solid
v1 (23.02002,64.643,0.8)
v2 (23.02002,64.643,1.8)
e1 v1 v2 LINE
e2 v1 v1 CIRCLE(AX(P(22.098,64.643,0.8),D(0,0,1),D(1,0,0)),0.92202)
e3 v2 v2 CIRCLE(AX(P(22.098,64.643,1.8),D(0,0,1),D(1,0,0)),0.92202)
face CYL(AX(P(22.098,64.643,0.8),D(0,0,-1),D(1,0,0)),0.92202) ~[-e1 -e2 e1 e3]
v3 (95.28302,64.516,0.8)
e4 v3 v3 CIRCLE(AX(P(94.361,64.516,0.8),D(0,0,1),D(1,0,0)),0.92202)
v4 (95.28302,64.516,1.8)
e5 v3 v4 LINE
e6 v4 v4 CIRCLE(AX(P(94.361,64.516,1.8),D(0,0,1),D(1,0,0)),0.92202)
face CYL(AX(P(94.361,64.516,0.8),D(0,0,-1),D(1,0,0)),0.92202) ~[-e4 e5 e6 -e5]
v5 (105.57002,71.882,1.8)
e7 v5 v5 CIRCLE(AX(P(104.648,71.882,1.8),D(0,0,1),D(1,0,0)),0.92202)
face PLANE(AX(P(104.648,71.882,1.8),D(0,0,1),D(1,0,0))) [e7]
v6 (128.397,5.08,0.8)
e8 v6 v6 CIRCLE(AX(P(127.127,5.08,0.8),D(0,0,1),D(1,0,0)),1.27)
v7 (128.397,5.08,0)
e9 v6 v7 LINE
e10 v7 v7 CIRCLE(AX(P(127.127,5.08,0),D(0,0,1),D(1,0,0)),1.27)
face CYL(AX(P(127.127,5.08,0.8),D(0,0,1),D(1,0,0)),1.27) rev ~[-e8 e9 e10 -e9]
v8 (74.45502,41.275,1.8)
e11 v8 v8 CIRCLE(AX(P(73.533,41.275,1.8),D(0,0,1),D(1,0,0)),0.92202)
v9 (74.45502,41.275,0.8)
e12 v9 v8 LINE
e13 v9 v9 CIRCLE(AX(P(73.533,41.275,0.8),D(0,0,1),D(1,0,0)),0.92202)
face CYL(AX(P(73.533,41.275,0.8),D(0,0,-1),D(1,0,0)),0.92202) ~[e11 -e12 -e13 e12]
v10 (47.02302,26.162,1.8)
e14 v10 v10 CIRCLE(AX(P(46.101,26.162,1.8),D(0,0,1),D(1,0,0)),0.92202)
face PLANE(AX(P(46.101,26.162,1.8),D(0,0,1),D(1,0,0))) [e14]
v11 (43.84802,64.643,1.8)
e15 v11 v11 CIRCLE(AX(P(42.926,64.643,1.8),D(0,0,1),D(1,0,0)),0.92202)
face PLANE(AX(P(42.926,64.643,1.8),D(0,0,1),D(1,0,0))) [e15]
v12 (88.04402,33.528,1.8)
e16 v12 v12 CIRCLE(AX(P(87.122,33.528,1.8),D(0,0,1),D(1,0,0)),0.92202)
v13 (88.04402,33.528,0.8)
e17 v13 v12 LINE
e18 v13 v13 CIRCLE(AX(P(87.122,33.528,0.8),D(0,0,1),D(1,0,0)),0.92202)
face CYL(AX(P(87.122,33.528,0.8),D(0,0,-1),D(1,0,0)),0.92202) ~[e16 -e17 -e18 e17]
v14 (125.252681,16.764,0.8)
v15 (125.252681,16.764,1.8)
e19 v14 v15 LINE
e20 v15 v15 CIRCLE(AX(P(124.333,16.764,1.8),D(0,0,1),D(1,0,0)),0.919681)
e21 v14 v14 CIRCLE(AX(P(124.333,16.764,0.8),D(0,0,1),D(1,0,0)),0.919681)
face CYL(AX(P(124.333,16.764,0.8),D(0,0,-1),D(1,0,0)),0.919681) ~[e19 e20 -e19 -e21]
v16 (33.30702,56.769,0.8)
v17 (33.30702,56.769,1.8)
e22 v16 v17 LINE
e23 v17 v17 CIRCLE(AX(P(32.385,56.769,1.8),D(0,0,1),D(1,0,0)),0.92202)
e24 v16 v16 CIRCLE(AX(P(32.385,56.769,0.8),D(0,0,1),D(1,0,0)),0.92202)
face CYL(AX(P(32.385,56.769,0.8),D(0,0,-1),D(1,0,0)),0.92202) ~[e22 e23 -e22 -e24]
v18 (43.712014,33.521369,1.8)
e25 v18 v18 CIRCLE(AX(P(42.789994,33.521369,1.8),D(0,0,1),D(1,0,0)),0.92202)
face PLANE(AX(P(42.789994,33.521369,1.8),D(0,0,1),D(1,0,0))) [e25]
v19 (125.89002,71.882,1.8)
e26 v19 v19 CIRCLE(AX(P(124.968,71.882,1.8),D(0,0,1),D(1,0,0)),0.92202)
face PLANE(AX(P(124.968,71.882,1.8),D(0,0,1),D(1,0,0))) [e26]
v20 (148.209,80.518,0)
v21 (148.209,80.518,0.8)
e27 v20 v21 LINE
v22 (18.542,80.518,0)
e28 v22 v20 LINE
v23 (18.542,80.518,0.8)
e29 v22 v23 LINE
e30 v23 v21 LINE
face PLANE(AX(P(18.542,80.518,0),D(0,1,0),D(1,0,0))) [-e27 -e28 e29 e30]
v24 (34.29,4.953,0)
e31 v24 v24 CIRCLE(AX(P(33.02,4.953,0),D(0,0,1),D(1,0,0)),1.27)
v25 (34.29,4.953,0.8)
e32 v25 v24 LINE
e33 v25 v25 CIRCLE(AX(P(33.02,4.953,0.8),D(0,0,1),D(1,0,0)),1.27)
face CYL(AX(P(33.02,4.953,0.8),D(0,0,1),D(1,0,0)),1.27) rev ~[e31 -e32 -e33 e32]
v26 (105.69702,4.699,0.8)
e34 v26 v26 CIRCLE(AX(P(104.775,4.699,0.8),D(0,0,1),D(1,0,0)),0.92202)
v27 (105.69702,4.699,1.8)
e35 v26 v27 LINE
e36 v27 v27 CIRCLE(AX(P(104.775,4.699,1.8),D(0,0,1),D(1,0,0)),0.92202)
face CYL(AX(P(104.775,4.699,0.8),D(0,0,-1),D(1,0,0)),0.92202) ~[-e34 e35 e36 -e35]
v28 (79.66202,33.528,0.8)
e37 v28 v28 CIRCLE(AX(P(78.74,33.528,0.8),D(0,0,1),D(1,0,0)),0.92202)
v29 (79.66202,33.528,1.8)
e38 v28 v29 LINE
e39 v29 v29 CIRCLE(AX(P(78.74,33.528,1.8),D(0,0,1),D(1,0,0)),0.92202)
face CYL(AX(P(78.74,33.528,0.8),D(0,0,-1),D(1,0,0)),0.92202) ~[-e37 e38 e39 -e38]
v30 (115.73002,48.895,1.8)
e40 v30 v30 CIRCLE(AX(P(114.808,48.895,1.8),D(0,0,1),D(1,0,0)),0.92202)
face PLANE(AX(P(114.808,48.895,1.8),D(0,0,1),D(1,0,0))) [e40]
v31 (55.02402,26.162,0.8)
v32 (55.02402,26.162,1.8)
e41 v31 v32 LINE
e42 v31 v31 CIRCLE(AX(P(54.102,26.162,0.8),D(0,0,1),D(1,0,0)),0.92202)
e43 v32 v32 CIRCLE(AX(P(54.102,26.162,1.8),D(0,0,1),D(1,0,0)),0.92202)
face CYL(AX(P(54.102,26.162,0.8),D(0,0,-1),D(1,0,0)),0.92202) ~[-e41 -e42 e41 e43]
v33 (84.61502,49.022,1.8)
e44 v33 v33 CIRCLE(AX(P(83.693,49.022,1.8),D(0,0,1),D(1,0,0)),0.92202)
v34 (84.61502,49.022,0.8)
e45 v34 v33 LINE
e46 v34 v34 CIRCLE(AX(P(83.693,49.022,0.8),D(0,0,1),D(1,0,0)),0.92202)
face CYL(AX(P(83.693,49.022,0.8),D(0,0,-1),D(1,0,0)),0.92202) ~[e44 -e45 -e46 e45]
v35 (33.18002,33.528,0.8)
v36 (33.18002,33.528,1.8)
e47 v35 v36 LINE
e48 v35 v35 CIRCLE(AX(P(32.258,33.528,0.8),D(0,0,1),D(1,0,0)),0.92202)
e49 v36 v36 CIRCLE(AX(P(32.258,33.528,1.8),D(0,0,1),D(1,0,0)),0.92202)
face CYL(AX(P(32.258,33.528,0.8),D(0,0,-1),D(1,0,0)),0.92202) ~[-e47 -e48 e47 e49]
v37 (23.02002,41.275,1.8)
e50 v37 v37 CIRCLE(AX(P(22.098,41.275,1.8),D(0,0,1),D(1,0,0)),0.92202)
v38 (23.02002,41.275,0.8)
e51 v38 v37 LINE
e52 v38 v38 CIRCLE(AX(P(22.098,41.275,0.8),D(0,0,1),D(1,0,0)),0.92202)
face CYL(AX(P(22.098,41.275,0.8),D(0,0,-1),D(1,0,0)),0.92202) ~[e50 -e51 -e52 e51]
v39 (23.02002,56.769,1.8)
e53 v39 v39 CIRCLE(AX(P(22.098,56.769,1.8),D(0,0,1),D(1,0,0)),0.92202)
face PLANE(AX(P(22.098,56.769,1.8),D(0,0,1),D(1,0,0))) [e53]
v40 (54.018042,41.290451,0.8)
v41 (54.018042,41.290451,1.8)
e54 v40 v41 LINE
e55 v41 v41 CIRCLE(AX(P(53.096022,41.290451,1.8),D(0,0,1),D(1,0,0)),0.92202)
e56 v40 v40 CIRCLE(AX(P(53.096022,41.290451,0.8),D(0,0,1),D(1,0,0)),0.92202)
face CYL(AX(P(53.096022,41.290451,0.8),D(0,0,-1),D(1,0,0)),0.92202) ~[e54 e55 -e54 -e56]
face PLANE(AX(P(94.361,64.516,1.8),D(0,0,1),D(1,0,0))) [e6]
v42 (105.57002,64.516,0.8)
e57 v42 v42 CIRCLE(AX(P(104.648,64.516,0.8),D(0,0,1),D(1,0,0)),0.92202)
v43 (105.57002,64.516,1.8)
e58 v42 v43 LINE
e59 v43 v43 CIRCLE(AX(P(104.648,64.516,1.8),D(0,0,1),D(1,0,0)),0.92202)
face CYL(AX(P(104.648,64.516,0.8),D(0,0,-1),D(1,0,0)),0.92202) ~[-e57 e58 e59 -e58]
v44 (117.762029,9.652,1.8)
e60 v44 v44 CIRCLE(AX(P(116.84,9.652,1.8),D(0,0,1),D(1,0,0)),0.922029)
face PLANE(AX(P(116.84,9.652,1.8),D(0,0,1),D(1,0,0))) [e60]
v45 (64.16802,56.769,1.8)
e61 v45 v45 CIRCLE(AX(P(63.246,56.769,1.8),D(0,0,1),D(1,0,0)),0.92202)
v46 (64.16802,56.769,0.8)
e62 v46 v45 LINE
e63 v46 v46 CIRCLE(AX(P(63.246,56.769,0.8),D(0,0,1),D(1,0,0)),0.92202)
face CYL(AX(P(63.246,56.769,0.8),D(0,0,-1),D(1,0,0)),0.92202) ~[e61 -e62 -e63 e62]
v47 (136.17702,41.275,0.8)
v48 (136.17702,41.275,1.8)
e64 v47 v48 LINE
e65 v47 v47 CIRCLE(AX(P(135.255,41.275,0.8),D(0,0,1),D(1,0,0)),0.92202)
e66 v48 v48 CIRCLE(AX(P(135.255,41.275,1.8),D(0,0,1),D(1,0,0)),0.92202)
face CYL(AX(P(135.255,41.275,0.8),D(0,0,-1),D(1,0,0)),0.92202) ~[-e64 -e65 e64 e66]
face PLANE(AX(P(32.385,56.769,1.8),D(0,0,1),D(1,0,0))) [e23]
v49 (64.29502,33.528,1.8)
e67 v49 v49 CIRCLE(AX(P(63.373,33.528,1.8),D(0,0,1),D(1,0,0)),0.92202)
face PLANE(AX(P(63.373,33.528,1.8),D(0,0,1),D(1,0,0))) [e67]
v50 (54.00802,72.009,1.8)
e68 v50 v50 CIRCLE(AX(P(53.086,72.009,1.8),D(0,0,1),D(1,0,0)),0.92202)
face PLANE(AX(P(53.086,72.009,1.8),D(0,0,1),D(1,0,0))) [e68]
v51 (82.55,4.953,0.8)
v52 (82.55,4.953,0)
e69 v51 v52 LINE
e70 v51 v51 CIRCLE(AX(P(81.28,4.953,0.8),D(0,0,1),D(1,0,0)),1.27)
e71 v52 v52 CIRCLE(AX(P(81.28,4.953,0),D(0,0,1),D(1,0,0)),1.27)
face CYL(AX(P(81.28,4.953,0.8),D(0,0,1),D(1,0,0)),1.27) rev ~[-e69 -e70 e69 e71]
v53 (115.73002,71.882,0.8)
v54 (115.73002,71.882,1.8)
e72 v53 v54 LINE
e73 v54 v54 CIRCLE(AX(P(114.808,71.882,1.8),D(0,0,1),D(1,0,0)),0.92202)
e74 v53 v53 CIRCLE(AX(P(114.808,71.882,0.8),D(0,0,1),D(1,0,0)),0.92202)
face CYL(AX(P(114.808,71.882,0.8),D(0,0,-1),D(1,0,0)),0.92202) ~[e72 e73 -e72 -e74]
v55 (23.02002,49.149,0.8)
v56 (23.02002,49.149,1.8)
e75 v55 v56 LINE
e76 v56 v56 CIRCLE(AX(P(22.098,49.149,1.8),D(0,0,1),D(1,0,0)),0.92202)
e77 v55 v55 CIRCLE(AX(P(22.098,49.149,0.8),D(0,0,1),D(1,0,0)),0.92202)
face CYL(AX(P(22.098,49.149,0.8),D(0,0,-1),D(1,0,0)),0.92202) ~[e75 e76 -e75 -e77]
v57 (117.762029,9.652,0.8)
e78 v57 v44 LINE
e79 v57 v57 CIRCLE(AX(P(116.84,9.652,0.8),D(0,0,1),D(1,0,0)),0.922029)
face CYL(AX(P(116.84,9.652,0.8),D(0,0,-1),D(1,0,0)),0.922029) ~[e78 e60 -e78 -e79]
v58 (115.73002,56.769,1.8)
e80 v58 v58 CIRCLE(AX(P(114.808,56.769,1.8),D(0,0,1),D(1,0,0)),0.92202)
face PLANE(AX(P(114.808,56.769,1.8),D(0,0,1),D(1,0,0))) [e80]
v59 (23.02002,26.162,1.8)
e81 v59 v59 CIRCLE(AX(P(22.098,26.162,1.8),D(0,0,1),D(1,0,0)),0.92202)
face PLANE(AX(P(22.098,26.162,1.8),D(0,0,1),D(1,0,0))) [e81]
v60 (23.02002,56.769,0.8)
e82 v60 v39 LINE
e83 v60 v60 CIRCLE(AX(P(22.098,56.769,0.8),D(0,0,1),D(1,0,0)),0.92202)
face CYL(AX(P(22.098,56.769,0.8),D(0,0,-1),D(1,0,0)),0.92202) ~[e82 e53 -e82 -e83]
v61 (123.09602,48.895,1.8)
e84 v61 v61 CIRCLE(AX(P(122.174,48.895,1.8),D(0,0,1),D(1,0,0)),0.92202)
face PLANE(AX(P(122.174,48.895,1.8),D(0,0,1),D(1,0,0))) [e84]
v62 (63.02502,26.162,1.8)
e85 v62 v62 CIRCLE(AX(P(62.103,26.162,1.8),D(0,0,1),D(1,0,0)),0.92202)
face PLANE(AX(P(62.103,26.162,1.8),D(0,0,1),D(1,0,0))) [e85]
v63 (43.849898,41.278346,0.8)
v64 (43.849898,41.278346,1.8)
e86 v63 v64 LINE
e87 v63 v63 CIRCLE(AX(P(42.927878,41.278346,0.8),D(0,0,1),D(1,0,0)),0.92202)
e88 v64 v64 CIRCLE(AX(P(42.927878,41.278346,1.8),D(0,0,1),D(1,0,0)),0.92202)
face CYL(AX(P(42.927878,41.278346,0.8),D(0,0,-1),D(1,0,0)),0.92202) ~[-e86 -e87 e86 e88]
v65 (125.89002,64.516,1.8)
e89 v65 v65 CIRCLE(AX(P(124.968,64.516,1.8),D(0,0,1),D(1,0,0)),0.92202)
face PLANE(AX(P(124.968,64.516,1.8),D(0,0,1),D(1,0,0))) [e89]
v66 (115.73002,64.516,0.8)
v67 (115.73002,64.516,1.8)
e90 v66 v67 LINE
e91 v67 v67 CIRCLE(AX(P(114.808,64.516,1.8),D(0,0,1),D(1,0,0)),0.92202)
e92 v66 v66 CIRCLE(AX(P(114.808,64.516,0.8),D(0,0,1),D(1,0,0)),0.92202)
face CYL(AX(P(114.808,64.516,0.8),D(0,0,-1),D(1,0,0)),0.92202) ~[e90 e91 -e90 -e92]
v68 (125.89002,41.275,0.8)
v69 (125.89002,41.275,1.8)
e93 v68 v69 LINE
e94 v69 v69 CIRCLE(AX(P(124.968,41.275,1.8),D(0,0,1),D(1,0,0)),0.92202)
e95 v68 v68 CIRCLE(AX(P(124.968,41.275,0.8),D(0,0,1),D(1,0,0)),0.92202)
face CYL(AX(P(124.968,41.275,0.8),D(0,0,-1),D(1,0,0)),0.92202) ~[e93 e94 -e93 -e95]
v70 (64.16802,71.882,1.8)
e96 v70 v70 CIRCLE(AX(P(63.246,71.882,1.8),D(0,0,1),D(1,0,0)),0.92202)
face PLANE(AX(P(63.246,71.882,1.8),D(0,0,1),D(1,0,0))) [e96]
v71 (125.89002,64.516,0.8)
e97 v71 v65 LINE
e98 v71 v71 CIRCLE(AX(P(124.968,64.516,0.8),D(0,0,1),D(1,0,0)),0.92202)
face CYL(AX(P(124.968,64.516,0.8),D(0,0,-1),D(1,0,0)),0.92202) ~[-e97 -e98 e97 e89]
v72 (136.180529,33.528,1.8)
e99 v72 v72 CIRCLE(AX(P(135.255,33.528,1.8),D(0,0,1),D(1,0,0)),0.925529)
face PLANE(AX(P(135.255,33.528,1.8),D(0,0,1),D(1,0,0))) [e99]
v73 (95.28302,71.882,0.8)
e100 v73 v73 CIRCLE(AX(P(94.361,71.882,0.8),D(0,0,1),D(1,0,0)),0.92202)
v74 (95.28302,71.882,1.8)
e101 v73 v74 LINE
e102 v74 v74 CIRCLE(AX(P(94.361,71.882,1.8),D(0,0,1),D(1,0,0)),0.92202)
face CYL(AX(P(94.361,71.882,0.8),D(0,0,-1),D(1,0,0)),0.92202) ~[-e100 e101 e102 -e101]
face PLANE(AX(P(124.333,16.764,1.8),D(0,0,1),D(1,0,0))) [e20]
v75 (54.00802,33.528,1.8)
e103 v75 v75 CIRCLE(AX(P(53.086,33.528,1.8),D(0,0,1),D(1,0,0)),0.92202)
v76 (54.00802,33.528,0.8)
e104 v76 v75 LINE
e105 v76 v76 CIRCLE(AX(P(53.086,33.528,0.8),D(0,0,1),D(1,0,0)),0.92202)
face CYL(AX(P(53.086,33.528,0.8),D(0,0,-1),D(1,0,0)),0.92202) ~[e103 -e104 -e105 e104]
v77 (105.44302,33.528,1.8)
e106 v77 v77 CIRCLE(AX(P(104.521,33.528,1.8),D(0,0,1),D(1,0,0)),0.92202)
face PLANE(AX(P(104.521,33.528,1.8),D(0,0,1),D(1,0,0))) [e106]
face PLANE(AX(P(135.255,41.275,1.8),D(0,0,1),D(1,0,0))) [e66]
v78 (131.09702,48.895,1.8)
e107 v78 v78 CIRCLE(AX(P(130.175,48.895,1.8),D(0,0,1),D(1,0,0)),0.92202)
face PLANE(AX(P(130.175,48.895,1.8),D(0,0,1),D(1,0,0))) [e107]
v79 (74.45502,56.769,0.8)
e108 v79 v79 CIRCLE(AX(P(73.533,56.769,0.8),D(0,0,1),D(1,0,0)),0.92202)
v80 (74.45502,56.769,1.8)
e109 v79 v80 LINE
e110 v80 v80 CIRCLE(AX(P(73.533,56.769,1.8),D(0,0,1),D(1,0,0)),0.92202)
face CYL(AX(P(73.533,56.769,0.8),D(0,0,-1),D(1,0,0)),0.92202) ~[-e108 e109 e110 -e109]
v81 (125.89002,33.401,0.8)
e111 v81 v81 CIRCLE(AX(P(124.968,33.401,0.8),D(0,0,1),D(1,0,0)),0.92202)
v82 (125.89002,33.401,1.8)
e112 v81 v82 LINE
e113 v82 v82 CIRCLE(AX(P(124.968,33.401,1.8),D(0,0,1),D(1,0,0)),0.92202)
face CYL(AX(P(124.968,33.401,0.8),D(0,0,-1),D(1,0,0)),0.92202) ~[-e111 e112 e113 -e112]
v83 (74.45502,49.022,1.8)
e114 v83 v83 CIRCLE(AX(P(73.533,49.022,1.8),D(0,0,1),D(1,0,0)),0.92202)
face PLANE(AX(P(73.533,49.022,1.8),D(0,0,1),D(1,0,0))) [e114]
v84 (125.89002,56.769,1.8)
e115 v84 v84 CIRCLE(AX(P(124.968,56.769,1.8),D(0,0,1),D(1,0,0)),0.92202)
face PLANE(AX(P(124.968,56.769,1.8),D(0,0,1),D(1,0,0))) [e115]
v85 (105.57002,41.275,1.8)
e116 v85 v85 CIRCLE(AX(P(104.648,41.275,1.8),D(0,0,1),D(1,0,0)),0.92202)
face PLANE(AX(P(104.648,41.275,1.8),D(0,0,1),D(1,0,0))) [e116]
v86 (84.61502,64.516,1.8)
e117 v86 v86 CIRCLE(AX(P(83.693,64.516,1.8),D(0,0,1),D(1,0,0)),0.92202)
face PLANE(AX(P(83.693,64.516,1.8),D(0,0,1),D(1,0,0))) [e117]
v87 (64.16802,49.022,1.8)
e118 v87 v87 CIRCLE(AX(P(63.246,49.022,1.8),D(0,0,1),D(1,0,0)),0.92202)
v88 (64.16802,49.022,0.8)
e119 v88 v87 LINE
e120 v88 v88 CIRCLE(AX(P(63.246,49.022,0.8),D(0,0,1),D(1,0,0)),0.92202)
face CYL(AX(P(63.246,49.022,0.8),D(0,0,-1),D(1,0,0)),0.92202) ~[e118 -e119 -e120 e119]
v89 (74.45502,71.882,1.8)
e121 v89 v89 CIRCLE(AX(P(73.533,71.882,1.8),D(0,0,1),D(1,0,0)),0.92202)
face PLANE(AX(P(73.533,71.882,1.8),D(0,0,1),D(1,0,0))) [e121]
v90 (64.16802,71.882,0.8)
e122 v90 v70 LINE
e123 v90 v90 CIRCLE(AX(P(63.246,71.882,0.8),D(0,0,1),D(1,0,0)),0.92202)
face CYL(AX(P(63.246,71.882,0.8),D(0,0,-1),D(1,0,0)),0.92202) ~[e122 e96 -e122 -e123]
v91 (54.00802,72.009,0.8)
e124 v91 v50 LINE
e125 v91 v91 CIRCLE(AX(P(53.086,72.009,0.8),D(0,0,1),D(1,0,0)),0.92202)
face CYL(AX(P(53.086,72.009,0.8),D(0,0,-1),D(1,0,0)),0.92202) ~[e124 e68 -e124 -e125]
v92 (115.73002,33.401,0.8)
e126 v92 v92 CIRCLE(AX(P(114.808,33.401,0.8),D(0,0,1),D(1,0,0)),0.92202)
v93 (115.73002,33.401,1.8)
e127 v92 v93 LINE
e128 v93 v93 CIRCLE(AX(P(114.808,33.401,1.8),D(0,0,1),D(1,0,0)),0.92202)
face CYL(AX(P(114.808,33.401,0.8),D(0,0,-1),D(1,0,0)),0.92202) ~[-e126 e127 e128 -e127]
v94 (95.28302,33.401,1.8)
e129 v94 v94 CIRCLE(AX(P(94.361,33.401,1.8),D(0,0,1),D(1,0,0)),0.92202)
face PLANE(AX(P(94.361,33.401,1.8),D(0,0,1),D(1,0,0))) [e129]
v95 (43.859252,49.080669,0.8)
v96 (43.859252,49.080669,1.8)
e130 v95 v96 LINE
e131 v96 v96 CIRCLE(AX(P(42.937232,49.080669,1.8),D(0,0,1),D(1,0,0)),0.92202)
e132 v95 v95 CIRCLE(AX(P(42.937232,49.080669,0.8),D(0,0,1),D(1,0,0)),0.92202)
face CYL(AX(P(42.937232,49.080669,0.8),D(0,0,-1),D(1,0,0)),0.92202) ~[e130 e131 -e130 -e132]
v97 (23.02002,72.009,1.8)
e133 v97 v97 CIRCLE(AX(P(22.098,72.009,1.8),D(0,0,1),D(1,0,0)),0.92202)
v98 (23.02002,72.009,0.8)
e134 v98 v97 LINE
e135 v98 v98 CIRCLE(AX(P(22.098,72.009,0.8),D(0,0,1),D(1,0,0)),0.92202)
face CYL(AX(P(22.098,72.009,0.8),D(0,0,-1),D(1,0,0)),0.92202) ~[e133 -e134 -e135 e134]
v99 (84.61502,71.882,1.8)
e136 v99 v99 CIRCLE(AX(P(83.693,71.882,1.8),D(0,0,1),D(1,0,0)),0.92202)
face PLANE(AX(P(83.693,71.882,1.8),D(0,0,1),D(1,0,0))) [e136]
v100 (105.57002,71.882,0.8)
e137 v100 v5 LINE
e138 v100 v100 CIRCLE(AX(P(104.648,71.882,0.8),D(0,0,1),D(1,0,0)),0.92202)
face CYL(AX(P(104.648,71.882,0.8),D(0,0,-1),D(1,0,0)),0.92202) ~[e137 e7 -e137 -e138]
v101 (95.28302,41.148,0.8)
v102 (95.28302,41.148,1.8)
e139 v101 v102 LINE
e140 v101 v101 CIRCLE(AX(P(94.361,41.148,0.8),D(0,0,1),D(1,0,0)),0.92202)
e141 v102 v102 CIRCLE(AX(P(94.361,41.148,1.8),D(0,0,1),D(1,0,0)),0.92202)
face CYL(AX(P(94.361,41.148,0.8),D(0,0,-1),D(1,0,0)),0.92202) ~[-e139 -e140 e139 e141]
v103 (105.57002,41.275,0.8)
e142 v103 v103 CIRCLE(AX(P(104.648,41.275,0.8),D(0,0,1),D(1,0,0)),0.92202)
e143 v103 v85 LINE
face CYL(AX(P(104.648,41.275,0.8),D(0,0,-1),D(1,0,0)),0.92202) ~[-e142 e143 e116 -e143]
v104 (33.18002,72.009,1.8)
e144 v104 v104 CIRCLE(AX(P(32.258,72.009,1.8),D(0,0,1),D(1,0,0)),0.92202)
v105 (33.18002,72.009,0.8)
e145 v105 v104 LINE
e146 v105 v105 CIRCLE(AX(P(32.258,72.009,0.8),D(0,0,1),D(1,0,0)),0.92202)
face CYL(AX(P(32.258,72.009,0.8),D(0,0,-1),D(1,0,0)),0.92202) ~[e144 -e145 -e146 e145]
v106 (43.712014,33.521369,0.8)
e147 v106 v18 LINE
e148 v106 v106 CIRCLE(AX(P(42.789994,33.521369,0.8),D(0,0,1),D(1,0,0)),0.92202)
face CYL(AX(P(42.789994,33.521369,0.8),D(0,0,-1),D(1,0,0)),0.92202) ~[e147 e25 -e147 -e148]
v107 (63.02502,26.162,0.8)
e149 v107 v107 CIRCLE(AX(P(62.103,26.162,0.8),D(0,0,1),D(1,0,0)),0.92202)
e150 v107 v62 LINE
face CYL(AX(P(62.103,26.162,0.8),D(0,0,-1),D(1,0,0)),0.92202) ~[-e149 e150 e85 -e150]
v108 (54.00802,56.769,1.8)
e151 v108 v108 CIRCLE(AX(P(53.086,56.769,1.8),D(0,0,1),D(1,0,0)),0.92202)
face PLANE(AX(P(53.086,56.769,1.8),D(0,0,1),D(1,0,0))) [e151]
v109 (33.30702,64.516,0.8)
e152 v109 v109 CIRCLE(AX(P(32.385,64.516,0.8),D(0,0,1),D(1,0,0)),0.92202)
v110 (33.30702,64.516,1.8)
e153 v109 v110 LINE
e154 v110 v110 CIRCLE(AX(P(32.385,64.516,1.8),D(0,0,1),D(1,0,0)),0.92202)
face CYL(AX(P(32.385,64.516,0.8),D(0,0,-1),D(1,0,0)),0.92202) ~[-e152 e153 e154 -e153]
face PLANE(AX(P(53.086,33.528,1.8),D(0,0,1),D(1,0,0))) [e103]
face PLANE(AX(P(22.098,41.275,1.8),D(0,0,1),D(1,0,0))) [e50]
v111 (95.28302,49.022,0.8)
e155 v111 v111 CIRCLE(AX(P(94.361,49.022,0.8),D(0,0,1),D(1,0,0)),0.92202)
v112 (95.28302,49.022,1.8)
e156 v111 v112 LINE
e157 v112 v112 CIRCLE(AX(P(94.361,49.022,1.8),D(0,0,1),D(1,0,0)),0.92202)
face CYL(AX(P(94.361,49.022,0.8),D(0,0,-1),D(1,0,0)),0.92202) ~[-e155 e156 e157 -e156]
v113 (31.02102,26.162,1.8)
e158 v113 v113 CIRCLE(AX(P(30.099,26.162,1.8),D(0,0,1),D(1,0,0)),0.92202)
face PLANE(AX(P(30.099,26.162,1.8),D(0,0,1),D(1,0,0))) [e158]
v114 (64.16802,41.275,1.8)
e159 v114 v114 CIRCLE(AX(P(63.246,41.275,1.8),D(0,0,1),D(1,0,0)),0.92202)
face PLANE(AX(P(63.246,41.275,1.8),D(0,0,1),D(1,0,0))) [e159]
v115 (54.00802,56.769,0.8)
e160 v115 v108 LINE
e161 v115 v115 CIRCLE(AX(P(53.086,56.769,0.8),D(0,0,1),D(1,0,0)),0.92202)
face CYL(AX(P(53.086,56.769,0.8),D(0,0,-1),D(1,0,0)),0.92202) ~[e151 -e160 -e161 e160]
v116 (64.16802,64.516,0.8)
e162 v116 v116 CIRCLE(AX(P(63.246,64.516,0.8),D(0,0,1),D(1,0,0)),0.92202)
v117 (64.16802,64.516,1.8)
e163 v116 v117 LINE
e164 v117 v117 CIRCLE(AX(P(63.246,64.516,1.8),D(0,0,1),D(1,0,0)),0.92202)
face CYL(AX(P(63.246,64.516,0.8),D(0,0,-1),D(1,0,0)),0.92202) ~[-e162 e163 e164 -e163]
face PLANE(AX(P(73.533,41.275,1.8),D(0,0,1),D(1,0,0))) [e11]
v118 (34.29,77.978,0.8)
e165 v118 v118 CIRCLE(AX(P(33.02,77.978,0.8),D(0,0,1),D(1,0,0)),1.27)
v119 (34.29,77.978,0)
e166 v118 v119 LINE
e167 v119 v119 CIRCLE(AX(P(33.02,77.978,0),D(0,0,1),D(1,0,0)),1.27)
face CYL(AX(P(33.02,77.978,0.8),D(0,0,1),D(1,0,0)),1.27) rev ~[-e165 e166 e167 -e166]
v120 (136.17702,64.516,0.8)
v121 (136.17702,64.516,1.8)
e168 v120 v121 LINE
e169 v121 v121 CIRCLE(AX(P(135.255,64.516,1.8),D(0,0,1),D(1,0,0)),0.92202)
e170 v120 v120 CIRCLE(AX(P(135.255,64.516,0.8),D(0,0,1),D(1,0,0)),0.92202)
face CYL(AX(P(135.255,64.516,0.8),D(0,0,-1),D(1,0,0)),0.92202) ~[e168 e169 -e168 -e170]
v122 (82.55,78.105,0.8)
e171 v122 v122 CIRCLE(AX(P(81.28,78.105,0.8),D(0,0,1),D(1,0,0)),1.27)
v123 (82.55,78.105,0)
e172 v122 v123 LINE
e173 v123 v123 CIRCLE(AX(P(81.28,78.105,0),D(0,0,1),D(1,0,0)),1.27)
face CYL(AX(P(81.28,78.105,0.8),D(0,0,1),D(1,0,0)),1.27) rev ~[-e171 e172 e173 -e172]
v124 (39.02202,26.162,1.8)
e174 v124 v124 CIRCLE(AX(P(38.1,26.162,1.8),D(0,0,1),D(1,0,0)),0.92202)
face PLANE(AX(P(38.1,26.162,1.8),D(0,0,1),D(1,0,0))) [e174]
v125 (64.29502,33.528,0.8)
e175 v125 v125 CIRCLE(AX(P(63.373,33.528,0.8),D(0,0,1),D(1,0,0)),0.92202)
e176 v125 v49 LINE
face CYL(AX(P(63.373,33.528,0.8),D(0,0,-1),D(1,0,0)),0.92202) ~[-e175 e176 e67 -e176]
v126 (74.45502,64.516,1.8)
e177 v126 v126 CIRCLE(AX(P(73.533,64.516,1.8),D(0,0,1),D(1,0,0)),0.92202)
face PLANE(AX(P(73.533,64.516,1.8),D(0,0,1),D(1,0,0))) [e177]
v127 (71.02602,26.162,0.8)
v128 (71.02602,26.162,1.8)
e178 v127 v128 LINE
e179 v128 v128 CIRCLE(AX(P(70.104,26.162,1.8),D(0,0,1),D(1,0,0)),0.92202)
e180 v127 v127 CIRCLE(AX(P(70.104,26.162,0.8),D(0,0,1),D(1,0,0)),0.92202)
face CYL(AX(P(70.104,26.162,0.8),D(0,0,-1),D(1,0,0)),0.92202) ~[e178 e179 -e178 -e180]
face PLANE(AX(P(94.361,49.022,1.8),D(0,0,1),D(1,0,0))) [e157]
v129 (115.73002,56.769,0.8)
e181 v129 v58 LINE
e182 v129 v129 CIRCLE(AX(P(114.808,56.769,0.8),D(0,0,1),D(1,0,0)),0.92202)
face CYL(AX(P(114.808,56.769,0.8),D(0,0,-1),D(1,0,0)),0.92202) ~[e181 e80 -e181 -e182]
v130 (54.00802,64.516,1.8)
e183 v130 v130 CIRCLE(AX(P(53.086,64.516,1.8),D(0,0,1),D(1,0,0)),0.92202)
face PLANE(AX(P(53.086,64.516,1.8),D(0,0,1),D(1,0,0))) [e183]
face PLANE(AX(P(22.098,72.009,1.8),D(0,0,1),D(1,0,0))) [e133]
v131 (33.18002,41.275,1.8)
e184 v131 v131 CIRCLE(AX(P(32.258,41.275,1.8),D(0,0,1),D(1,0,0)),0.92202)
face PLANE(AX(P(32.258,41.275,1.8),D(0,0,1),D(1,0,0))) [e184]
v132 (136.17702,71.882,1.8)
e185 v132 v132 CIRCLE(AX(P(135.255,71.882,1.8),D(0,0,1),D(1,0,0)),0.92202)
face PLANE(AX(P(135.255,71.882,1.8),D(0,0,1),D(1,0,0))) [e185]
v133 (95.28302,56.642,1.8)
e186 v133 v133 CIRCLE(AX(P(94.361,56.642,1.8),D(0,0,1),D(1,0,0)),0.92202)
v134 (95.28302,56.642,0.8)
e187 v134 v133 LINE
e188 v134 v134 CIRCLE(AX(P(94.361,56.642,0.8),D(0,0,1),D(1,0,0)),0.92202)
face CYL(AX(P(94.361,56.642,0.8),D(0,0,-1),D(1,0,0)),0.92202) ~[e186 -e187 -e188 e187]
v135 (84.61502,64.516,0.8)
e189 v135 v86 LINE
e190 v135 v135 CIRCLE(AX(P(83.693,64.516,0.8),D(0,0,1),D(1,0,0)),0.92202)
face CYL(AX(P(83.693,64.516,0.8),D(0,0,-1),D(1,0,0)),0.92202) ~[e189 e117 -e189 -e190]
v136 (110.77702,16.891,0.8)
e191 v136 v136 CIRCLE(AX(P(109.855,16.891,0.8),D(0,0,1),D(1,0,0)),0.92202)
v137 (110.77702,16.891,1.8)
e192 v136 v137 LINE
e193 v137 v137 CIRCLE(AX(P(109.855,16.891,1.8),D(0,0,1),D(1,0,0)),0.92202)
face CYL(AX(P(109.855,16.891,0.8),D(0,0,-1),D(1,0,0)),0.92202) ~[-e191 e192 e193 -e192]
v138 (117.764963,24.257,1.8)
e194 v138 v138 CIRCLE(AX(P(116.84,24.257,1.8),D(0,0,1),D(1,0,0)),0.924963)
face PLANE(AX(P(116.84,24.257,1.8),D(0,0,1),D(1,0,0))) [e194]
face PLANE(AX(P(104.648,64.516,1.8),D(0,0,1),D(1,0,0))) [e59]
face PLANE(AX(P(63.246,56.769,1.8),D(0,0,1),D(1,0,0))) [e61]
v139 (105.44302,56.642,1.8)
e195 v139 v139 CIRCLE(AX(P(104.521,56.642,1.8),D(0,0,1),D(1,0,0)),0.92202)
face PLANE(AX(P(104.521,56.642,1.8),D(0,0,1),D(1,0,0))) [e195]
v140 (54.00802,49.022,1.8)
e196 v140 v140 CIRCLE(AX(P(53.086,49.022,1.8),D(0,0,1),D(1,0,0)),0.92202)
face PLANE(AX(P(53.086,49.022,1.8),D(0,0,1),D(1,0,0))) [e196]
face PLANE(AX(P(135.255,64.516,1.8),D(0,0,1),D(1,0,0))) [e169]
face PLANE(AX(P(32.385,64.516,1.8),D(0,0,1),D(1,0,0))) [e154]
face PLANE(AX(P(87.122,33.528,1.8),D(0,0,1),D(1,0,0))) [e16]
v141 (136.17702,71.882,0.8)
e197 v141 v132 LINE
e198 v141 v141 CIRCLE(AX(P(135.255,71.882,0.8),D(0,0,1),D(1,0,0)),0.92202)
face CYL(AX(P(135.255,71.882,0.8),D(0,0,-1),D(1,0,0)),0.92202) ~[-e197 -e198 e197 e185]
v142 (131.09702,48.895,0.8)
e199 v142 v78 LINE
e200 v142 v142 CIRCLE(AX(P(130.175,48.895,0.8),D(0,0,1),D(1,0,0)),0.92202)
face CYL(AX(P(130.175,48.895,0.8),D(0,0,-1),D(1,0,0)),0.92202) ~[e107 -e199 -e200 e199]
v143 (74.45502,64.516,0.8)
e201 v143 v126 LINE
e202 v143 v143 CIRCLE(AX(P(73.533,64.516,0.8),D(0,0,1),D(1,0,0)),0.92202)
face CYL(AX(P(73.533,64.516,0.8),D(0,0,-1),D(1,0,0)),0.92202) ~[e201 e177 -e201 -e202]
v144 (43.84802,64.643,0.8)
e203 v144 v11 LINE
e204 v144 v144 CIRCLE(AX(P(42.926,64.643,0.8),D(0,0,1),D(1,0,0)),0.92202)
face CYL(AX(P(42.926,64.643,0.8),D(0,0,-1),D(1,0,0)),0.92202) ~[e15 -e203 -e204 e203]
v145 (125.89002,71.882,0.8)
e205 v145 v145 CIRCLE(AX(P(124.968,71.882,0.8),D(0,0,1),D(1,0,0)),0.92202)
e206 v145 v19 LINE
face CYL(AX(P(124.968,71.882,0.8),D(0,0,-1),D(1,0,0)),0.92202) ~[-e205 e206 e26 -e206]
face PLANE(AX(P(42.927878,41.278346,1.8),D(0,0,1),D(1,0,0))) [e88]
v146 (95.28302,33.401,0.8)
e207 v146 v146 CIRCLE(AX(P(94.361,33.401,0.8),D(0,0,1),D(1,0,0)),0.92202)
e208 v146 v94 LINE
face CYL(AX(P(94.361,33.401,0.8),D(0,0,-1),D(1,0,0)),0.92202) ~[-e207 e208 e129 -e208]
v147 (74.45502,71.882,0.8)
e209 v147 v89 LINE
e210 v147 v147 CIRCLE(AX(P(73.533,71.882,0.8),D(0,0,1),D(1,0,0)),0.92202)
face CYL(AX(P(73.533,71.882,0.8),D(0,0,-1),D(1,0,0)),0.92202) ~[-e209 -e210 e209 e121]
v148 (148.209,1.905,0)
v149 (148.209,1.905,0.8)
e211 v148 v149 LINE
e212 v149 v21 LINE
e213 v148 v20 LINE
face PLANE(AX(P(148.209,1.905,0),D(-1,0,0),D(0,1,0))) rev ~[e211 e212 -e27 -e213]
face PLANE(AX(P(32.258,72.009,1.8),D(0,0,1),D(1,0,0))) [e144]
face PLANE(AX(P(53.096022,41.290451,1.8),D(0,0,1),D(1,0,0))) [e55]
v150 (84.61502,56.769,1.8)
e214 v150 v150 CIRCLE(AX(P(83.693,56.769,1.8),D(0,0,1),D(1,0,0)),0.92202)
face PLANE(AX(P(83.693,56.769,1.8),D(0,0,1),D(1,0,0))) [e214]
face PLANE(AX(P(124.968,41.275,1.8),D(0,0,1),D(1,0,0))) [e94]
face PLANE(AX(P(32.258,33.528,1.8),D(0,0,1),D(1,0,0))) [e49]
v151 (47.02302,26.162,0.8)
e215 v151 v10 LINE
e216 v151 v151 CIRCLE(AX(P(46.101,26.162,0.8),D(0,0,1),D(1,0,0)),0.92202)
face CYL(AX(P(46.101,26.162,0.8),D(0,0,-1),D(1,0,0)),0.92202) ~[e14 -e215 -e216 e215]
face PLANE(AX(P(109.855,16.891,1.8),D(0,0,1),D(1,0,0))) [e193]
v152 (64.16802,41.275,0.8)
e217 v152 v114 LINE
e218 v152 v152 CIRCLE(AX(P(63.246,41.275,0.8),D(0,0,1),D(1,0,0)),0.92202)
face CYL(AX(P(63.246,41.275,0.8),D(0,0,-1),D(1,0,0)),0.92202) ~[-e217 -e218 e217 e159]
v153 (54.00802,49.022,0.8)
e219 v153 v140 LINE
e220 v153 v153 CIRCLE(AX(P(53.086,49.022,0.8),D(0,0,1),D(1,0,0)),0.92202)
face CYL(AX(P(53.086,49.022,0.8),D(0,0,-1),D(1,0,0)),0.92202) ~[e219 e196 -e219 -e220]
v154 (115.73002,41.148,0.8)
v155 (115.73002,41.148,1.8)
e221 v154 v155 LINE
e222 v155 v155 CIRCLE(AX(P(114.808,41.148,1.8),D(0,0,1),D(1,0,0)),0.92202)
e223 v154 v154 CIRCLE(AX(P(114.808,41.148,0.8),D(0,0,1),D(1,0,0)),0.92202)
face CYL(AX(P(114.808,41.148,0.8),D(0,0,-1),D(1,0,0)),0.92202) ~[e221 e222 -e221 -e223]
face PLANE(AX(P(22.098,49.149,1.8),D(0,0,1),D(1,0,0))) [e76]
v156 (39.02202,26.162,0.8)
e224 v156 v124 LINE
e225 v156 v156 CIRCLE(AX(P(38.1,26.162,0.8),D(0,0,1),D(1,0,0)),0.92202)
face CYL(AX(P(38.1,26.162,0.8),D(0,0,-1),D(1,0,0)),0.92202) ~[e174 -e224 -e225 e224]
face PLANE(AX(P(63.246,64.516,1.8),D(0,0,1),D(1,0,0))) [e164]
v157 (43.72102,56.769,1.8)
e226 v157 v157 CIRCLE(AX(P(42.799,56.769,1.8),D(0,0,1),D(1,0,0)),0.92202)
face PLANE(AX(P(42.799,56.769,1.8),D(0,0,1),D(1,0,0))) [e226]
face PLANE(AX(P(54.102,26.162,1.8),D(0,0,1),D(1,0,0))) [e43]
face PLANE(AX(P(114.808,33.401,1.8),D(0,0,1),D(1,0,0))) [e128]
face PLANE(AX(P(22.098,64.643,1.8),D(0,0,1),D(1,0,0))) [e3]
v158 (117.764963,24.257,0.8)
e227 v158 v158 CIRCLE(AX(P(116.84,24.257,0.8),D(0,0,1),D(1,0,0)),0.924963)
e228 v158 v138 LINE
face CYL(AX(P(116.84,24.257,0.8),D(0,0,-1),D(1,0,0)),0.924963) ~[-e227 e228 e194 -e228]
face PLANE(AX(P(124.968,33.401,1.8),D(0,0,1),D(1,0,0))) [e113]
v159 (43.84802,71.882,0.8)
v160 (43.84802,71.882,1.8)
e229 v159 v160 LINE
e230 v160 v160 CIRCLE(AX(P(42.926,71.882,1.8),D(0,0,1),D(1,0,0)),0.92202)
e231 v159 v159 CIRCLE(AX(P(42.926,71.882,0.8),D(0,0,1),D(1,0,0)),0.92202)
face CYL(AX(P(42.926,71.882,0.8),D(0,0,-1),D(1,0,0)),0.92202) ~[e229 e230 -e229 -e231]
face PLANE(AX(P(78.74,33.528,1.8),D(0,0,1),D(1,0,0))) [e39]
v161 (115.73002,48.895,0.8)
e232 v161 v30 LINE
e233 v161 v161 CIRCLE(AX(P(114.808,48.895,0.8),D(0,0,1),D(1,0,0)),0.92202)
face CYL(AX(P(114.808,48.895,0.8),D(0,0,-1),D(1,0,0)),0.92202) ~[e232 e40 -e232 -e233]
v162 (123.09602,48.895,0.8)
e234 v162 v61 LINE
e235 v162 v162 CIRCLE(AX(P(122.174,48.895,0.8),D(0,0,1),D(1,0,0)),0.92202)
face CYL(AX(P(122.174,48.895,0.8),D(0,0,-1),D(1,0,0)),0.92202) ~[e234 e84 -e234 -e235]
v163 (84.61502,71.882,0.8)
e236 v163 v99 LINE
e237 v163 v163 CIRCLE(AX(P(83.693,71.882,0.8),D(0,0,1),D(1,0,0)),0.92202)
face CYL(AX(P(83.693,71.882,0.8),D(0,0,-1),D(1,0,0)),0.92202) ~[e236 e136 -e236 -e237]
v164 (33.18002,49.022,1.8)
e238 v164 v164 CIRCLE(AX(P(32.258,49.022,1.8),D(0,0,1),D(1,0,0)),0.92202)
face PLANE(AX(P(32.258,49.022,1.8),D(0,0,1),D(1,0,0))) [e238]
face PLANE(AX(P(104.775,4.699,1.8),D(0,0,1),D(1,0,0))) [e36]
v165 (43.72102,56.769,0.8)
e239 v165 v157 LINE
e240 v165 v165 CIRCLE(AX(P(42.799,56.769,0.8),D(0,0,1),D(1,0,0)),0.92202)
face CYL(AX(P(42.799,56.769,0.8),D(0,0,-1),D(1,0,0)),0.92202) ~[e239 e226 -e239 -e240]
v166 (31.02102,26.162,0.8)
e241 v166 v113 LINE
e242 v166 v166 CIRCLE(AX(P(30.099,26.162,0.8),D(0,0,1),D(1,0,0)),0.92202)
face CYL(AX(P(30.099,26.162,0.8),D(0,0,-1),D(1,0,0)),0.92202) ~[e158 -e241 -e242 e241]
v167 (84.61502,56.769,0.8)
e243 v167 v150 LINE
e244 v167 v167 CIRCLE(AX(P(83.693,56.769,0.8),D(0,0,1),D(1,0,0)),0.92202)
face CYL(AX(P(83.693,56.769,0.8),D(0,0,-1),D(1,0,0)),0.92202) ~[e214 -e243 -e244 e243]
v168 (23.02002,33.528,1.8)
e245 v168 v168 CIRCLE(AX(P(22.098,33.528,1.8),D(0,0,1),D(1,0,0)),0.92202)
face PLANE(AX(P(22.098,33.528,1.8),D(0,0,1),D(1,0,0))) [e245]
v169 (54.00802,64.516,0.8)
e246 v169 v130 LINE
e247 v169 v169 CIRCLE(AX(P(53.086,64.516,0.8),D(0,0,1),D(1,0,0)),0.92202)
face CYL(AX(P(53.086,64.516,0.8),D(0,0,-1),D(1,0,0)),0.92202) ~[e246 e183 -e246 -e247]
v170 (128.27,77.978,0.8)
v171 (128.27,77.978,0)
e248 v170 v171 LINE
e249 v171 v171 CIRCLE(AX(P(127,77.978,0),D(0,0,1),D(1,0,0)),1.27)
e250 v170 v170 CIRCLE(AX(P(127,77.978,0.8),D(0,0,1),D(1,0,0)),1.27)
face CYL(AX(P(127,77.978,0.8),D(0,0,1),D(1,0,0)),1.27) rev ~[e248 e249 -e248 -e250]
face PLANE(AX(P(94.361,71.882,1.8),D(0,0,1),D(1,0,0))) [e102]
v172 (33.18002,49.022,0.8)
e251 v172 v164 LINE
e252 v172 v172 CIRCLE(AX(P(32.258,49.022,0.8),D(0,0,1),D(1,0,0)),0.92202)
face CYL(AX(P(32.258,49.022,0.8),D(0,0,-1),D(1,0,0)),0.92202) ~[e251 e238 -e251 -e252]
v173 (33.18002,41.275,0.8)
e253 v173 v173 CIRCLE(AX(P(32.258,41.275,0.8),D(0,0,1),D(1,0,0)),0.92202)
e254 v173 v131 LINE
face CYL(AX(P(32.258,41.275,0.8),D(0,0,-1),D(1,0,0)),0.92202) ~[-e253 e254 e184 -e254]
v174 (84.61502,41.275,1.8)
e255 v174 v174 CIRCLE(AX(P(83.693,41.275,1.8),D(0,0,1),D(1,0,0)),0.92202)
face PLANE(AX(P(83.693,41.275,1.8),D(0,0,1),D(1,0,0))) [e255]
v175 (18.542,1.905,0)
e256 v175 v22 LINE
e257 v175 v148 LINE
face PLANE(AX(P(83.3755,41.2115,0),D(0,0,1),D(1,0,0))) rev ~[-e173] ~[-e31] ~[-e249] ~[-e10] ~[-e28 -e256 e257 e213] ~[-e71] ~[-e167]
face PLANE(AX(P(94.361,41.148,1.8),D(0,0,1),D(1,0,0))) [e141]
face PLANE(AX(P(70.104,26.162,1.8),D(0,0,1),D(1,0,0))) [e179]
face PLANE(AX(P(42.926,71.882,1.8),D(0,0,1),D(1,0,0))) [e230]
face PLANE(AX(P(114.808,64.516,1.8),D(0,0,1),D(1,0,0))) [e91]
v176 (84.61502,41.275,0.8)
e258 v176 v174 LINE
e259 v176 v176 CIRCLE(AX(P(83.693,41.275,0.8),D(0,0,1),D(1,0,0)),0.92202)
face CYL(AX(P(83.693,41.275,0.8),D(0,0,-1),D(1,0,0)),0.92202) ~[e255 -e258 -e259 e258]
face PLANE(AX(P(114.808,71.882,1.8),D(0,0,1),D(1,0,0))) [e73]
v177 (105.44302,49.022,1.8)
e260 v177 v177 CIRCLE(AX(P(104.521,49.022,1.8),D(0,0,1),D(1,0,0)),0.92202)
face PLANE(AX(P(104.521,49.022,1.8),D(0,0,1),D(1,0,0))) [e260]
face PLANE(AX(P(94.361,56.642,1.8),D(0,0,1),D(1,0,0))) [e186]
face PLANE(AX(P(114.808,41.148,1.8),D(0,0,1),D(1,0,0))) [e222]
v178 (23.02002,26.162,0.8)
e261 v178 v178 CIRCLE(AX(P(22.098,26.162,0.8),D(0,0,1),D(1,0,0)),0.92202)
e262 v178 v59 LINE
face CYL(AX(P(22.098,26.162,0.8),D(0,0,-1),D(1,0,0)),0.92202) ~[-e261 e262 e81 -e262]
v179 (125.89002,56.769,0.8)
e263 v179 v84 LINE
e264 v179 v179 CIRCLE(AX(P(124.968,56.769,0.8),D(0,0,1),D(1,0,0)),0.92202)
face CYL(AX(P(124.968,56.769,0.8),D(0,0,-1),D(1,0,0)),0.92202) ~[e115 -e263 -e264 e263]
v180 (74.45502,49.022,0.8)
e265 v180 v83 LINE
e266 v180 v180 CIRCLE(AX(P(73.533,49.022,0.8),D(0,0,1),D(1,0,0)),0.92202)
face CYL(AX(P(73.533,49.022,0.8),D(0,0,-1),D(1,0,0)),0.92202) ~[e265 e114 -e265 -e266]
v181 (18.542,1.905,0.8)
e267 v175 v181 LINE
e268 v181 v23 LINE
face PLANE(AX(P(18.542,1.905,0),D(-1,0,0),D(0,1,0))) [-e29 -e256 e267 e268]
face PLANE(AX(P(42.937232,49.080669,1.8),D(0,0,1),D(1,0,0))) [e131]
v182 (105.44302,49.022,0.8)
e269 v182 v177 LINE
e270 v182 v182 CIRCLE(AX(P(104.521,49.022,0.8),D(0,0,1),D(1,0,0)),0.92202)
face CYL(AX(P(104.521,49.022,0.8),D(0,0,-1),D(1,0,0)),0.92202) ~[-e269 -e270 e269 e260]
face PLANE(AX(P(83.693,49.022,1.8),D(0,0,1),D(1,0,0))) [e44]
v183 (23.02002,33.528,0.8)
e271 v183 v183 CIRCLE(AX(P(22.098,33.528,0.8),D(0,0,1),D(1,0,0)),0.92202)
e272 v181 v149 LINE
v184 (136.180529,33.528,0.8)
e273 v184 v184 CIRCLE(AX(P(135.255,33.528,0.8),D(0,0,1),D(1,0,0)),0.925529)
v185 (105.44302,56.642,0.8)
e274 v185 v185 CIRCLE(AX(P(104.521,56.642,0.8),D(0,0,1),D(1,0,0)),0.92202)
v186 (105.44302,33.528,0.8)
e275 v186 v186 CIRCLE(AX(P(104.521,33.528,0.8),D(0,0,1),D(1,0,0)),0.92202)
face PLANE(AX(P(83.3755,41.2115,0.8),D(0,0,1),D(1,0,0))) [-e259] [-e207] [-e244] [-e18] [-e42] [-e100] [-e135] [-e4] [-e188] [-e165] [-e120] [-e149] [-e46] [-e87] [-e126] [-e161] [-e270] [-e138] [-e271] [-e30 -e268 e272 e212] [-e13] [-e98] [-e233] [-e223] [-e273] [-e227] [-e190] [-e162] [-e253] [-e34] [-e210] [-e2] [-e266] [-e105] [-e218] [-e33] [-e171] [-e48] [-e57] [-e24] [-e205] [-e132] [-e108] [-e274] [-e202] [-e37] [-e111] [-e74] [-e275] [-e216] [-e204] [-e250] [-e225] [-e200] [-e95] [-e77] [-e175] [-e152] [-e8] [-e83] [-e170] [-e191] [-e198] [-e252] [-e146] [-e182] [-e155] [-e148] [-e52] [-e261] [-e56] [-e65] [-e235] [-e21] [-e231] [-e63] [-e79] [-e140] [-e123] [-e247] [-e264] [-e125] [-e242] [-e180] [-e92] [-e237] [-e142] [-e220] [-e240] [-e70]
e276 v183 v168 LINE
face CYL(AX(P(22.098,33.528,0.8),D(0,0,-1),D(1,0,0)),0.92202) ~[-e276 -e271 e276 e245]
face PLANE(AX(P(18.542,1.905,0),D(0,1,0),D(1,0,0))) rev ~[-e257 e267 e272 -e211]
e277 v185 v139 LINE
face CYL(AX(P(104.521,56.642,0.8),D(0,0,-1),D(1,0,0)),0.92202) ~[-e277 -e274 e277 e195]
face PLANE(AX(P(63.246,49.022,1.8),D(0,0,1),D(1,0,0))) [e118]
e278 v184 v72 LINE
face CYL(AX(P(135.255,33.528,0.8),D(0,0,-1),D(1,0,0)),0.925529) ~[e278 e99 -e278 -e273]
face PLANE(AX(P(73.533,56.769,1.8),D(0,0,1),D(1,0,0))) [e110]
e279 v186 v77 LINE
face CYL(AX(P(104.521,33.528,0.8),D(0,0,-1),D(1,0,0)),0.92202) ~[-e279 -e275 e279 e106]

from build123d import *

# Parameters (mm, degrees)
SKETCH_2_W          = 129.667
SKETCH_2_H          = 78.613
EXTRUDE_1_DEPTH     = 0.8
SKETCH_3_R          = 1.27
CUT_EXTRUDE_1_DEPTH = 12.54
SKETCH_4_R          = 0.92202
SKETCH_4_R_2        = 0.922029104
SKETCH_4_R_3        = 0.919681264
SKETCH_4_R_4        = 0.924963229
SKETCH_4_R_5        = 0.92552898
EXTRUDE_2_DEPTH     = 1


with BuildPart() as part:
    # 草图2 → 凸台-拉伸1 (new body)
    with BuildSketch(Plane.XY):
        with Locations((83.3755, 41.2115)):
            Rectangle(SKETCH_2_W, SKETCH_2_H)
    extrude(amount=EXTRUDE_1_DEPTH)

    # 草图3 → 切除-拉伸1 (cut)
    with BuildSketch(Plane.XY.offset(0.8)):
        with Locations((33.02, 77.978)):
            Circle(SKETCH_3_R)
        with Locations((81.28, 78.105)):
            Circle(SKETCH_3_R)
        with Locations((127, 77.978)):
            Circle(SKETCH_3_R)
        with Locations((33.02, 4.953)):
            Circle(SKETCH_3_R)
        with Locations((81.28, 4.953)):
            Circle(SKETCH_3_R)
        with Locations((127.127, 5.08)):
            Circle(SKETCH_3_R)
    extrude(amount=-CUT_EXTRUDE_1_DEPTH, mode=Mode.SUBTRACT)

    # 草图4 → 凸台-拉伸2 (add)
    with BuildSketch(Plane.XY.offset(0.8)):
        with Locations((22.098, 72.009)):
            Circle(SKETCH_4_R)
        with Locations((22.098, 64.643)):
            Circle(SKETCH_4_R)
        with Locations((22.098, 56.769)):
            Circle(SKETCH_4_R)
        with Locations((22.098, 49.149)):
            Circle(SKETCH_4_R)
        with Locations((22.098, 26.162)):
            Circle(SKETCH_4_R)
        with Locations((22.098, 33.528)):
            Circle(SKETCH_4_R)
        with Locations((22.098, 41.275)):
            Circle(SKETCH_4_R)
        with Locations((32.258, 72.009)):
            Circle(SKETCH_4_R)
        with Locations((42.926, 71.882)):
            Circle(SKETCH_4_R)
        with Locations((53.086, 72.009)):
            Circle(SKETCH_4_R)
        with Locations((63.246, 71.882)):
            Circle(SKETCH_4_R)
        with Locations((73.533, 71.882)):
            Circle(SKETCH_4_R)
        with Locations((83.693, 71.882)):
            Circle(SKETCH_4_R)
        with Locations((94.361, 71.882)):
            Circle(SKETCH_4_R)
        with Locations((104.648, 71.882)):
            Circle(SKETCH_4_R)
        with Locations((114.808, 71.882)):
            Circle(SKETCH_4_R)
        with Locations((124.968, 71.882)):
            Circle(SKETCH_4_R)
        with Locations((135.255, 71.882)):
            Circle(SKETCH_4_R)
        with Locations((32.385, 64.516)):
            Circle(SKETCH_4_R)
        with Locations((32.385, 56.769)):
            Circle(SKETCH_4_R)
        with Locations((32.258, 49.022)):
            Circle(SKETCH_4_R)
        with Locations((32.258, 33.528)):
            Circle(SKETCH_4_R)
        with Locations((32.258, 41.275)):
            Circle(SKETCH_4_R)
        with Locations((54.102, 26.162)):
            Circle(SKETCH_4_R)
        with Locations((30.099, 26.162)):
            Circle(SKETCH_4_R)
        with Locations((38.1, 26.162)):
            Circle(SKETCH_4_R)
        with Locations((46.101, 26.162)):
            Circle(SKETCH_4_R)
        with Locations((42.926, 64.643)):
            Circle(SKETCH_4_R)
        with Locations((42.799, 56.769)):
            Circle(SKETCH_4_R)
        with Locations((53.086, 64.516)):
            Circle(SKETCH_4_R)
        with Locations((63.246, 64.516)):
            Circle(SKETCH_4_R)
        with Locations((53.086, 56.769)):
            Circle(SKETCH_4_R)
        with Locations((63.246, 56.769)):
            Circle(SKETCH_4_R)
        with Locations((42.937232377, 49.080669284)):
            Circle(SKETCH_4_R)
        with Locations((53.086, 49.022)):
            Circle(SKETCH_4_R)
        with Locations((63.246, 49.022)):
            Circle(SKETCH_4_R)
        with Locations((42.927878215, 41.278345649)):
            Circle(SKETCH_4_R)
        with Locations((42.78999374, 33.521368778)):
            Circle(SKETCH_4_R)
        with Locations((53.086, 33.528)):
            Circle(SKETCH_4_R)
        with Locations((53.096022403, 41.290450758)):
            Circle(SKETCH_4_R)
        with Locations((104.775, 4.699)):
            Circle(SKETCH_4_R)
        with Locations((116.84, 9.652)):
            Circle(SKETCH_4_R_2)
        with Locations((109.855, 16.891)):
            Circle(SKETCH_4_R)
        with Locations((124.333, 16.764)):
            Circle(SKETCH_4_R_3)
        with Locations((116.84, 24.257)):
            Circle(SKETCH_4_R_4)
        with Locations((135.255, 33.528)):
            Circle(SKETCH_4_R_5)
        with Locations((135.255, 41.275)):
            Circle(SKETCH_4_R)
        with Locations((124.968, 33.401)):
            Circle(SKETCH_4_R)
        with Locations((124.968, 41.275)):
            Circle(SKETCH_4_R)
        with Locations((114.808, 33.401)):
            Circle(SKETCH_4_R)
        with Locations((114.808, 41.148)):
            Circle(SKETCH_4_R)
        with Locations((130.175, 48.895)):
            Circle(SKETCH_4_R)
        with Locations((122.174, 48.895)):
            Circle(SKETCH_4_R)
        with Locations((114.808, 48.895)):
            Circle(SKETCH_4_R)
        with Locations((124.968, 56.769)):
            Circle(SKETCH_4_R)
        with Locations((114.808, 56.769)):
            Circle(SKETCH_4_R)
        with Locations((114.808, 64.516)):
            Circle(SKETCH_4_R)
        with Locations((124.968, 64.516)):
            Circle(SKETCH_4_R)
        with Locations((135.255, 64.516)):
            Circle(SKETCH_4_R)
        with Locations((62.103, 26.162)):
            Circle(SKETCH_4_R)
        with Locations((70.104, 26.162)):
            Circle(SKETCH_4_R)
        with Locations((63.373, 33.528)):
            Circle(SKETCH_4_R)
        with Locations((78.74, 33.528)):
            Circle(SKETCH_4_R)
        with Locations((87.122, 33.528)):
            Circle(SKETCH_4_R)
        with Locations((104.521, 33.528)):
            Circle(SKETCH_4_R)
        with Locations((94.361, 33.401)):
            Circle(SKETCH_4_R)
        with Locations((73.533, 41.275)):
            Circle(SKETCH_4_R)
        with Locations((63.246, 41.275)):
            Circle(SKETCH_4_R)
        with Locations((83.693, 41.275)):
            Circle(SKETCH_4_R)
        with Locations((104.648, 41.275)):
            Circle(SKETCH_4_R)
        with Locations((94.361, 41.148)):
            Circle(SKETCH_4_R)
        with Locations((73.533, 49.022)):
            Circle(SKETCH_4_R)
        with Locations((83.693, 49.022)):
            Circle(SKETCH_4_R)
        with Locations((94.361, 49.022)):
            Circle(SKETCH_4_R)
        with Locations((104.521, 49.022)):
            Circle(SKETCH_4_R)
        with Locations((73.533, 64.516)):
            Circle(SKETCH_4_R)
        with Locations((73.533, 56.769)):
            Circle(SKETCH_4_R)
        with Locations((83.693, 64.516)):
            Circle(SKETCH_4_R)
        with Locations((83.693, 56.769)):
            Circle(SKETCH_4_R)
        with Locations((94.361, 64.516)):
            Circle(SKETCH_4_R)
        with Locations((94.361, 56.642)):
            Circle(SKETCH_4_R)
        with Locations((104.521, 56.642)):
            Circle(SKETCH_4_R)
        with Locations((104.648, 64.516)):
            Circle(SKETCH_4_R)
    extrude(amount=EXTRUDE_2_DEPTH)


solid = part.part
